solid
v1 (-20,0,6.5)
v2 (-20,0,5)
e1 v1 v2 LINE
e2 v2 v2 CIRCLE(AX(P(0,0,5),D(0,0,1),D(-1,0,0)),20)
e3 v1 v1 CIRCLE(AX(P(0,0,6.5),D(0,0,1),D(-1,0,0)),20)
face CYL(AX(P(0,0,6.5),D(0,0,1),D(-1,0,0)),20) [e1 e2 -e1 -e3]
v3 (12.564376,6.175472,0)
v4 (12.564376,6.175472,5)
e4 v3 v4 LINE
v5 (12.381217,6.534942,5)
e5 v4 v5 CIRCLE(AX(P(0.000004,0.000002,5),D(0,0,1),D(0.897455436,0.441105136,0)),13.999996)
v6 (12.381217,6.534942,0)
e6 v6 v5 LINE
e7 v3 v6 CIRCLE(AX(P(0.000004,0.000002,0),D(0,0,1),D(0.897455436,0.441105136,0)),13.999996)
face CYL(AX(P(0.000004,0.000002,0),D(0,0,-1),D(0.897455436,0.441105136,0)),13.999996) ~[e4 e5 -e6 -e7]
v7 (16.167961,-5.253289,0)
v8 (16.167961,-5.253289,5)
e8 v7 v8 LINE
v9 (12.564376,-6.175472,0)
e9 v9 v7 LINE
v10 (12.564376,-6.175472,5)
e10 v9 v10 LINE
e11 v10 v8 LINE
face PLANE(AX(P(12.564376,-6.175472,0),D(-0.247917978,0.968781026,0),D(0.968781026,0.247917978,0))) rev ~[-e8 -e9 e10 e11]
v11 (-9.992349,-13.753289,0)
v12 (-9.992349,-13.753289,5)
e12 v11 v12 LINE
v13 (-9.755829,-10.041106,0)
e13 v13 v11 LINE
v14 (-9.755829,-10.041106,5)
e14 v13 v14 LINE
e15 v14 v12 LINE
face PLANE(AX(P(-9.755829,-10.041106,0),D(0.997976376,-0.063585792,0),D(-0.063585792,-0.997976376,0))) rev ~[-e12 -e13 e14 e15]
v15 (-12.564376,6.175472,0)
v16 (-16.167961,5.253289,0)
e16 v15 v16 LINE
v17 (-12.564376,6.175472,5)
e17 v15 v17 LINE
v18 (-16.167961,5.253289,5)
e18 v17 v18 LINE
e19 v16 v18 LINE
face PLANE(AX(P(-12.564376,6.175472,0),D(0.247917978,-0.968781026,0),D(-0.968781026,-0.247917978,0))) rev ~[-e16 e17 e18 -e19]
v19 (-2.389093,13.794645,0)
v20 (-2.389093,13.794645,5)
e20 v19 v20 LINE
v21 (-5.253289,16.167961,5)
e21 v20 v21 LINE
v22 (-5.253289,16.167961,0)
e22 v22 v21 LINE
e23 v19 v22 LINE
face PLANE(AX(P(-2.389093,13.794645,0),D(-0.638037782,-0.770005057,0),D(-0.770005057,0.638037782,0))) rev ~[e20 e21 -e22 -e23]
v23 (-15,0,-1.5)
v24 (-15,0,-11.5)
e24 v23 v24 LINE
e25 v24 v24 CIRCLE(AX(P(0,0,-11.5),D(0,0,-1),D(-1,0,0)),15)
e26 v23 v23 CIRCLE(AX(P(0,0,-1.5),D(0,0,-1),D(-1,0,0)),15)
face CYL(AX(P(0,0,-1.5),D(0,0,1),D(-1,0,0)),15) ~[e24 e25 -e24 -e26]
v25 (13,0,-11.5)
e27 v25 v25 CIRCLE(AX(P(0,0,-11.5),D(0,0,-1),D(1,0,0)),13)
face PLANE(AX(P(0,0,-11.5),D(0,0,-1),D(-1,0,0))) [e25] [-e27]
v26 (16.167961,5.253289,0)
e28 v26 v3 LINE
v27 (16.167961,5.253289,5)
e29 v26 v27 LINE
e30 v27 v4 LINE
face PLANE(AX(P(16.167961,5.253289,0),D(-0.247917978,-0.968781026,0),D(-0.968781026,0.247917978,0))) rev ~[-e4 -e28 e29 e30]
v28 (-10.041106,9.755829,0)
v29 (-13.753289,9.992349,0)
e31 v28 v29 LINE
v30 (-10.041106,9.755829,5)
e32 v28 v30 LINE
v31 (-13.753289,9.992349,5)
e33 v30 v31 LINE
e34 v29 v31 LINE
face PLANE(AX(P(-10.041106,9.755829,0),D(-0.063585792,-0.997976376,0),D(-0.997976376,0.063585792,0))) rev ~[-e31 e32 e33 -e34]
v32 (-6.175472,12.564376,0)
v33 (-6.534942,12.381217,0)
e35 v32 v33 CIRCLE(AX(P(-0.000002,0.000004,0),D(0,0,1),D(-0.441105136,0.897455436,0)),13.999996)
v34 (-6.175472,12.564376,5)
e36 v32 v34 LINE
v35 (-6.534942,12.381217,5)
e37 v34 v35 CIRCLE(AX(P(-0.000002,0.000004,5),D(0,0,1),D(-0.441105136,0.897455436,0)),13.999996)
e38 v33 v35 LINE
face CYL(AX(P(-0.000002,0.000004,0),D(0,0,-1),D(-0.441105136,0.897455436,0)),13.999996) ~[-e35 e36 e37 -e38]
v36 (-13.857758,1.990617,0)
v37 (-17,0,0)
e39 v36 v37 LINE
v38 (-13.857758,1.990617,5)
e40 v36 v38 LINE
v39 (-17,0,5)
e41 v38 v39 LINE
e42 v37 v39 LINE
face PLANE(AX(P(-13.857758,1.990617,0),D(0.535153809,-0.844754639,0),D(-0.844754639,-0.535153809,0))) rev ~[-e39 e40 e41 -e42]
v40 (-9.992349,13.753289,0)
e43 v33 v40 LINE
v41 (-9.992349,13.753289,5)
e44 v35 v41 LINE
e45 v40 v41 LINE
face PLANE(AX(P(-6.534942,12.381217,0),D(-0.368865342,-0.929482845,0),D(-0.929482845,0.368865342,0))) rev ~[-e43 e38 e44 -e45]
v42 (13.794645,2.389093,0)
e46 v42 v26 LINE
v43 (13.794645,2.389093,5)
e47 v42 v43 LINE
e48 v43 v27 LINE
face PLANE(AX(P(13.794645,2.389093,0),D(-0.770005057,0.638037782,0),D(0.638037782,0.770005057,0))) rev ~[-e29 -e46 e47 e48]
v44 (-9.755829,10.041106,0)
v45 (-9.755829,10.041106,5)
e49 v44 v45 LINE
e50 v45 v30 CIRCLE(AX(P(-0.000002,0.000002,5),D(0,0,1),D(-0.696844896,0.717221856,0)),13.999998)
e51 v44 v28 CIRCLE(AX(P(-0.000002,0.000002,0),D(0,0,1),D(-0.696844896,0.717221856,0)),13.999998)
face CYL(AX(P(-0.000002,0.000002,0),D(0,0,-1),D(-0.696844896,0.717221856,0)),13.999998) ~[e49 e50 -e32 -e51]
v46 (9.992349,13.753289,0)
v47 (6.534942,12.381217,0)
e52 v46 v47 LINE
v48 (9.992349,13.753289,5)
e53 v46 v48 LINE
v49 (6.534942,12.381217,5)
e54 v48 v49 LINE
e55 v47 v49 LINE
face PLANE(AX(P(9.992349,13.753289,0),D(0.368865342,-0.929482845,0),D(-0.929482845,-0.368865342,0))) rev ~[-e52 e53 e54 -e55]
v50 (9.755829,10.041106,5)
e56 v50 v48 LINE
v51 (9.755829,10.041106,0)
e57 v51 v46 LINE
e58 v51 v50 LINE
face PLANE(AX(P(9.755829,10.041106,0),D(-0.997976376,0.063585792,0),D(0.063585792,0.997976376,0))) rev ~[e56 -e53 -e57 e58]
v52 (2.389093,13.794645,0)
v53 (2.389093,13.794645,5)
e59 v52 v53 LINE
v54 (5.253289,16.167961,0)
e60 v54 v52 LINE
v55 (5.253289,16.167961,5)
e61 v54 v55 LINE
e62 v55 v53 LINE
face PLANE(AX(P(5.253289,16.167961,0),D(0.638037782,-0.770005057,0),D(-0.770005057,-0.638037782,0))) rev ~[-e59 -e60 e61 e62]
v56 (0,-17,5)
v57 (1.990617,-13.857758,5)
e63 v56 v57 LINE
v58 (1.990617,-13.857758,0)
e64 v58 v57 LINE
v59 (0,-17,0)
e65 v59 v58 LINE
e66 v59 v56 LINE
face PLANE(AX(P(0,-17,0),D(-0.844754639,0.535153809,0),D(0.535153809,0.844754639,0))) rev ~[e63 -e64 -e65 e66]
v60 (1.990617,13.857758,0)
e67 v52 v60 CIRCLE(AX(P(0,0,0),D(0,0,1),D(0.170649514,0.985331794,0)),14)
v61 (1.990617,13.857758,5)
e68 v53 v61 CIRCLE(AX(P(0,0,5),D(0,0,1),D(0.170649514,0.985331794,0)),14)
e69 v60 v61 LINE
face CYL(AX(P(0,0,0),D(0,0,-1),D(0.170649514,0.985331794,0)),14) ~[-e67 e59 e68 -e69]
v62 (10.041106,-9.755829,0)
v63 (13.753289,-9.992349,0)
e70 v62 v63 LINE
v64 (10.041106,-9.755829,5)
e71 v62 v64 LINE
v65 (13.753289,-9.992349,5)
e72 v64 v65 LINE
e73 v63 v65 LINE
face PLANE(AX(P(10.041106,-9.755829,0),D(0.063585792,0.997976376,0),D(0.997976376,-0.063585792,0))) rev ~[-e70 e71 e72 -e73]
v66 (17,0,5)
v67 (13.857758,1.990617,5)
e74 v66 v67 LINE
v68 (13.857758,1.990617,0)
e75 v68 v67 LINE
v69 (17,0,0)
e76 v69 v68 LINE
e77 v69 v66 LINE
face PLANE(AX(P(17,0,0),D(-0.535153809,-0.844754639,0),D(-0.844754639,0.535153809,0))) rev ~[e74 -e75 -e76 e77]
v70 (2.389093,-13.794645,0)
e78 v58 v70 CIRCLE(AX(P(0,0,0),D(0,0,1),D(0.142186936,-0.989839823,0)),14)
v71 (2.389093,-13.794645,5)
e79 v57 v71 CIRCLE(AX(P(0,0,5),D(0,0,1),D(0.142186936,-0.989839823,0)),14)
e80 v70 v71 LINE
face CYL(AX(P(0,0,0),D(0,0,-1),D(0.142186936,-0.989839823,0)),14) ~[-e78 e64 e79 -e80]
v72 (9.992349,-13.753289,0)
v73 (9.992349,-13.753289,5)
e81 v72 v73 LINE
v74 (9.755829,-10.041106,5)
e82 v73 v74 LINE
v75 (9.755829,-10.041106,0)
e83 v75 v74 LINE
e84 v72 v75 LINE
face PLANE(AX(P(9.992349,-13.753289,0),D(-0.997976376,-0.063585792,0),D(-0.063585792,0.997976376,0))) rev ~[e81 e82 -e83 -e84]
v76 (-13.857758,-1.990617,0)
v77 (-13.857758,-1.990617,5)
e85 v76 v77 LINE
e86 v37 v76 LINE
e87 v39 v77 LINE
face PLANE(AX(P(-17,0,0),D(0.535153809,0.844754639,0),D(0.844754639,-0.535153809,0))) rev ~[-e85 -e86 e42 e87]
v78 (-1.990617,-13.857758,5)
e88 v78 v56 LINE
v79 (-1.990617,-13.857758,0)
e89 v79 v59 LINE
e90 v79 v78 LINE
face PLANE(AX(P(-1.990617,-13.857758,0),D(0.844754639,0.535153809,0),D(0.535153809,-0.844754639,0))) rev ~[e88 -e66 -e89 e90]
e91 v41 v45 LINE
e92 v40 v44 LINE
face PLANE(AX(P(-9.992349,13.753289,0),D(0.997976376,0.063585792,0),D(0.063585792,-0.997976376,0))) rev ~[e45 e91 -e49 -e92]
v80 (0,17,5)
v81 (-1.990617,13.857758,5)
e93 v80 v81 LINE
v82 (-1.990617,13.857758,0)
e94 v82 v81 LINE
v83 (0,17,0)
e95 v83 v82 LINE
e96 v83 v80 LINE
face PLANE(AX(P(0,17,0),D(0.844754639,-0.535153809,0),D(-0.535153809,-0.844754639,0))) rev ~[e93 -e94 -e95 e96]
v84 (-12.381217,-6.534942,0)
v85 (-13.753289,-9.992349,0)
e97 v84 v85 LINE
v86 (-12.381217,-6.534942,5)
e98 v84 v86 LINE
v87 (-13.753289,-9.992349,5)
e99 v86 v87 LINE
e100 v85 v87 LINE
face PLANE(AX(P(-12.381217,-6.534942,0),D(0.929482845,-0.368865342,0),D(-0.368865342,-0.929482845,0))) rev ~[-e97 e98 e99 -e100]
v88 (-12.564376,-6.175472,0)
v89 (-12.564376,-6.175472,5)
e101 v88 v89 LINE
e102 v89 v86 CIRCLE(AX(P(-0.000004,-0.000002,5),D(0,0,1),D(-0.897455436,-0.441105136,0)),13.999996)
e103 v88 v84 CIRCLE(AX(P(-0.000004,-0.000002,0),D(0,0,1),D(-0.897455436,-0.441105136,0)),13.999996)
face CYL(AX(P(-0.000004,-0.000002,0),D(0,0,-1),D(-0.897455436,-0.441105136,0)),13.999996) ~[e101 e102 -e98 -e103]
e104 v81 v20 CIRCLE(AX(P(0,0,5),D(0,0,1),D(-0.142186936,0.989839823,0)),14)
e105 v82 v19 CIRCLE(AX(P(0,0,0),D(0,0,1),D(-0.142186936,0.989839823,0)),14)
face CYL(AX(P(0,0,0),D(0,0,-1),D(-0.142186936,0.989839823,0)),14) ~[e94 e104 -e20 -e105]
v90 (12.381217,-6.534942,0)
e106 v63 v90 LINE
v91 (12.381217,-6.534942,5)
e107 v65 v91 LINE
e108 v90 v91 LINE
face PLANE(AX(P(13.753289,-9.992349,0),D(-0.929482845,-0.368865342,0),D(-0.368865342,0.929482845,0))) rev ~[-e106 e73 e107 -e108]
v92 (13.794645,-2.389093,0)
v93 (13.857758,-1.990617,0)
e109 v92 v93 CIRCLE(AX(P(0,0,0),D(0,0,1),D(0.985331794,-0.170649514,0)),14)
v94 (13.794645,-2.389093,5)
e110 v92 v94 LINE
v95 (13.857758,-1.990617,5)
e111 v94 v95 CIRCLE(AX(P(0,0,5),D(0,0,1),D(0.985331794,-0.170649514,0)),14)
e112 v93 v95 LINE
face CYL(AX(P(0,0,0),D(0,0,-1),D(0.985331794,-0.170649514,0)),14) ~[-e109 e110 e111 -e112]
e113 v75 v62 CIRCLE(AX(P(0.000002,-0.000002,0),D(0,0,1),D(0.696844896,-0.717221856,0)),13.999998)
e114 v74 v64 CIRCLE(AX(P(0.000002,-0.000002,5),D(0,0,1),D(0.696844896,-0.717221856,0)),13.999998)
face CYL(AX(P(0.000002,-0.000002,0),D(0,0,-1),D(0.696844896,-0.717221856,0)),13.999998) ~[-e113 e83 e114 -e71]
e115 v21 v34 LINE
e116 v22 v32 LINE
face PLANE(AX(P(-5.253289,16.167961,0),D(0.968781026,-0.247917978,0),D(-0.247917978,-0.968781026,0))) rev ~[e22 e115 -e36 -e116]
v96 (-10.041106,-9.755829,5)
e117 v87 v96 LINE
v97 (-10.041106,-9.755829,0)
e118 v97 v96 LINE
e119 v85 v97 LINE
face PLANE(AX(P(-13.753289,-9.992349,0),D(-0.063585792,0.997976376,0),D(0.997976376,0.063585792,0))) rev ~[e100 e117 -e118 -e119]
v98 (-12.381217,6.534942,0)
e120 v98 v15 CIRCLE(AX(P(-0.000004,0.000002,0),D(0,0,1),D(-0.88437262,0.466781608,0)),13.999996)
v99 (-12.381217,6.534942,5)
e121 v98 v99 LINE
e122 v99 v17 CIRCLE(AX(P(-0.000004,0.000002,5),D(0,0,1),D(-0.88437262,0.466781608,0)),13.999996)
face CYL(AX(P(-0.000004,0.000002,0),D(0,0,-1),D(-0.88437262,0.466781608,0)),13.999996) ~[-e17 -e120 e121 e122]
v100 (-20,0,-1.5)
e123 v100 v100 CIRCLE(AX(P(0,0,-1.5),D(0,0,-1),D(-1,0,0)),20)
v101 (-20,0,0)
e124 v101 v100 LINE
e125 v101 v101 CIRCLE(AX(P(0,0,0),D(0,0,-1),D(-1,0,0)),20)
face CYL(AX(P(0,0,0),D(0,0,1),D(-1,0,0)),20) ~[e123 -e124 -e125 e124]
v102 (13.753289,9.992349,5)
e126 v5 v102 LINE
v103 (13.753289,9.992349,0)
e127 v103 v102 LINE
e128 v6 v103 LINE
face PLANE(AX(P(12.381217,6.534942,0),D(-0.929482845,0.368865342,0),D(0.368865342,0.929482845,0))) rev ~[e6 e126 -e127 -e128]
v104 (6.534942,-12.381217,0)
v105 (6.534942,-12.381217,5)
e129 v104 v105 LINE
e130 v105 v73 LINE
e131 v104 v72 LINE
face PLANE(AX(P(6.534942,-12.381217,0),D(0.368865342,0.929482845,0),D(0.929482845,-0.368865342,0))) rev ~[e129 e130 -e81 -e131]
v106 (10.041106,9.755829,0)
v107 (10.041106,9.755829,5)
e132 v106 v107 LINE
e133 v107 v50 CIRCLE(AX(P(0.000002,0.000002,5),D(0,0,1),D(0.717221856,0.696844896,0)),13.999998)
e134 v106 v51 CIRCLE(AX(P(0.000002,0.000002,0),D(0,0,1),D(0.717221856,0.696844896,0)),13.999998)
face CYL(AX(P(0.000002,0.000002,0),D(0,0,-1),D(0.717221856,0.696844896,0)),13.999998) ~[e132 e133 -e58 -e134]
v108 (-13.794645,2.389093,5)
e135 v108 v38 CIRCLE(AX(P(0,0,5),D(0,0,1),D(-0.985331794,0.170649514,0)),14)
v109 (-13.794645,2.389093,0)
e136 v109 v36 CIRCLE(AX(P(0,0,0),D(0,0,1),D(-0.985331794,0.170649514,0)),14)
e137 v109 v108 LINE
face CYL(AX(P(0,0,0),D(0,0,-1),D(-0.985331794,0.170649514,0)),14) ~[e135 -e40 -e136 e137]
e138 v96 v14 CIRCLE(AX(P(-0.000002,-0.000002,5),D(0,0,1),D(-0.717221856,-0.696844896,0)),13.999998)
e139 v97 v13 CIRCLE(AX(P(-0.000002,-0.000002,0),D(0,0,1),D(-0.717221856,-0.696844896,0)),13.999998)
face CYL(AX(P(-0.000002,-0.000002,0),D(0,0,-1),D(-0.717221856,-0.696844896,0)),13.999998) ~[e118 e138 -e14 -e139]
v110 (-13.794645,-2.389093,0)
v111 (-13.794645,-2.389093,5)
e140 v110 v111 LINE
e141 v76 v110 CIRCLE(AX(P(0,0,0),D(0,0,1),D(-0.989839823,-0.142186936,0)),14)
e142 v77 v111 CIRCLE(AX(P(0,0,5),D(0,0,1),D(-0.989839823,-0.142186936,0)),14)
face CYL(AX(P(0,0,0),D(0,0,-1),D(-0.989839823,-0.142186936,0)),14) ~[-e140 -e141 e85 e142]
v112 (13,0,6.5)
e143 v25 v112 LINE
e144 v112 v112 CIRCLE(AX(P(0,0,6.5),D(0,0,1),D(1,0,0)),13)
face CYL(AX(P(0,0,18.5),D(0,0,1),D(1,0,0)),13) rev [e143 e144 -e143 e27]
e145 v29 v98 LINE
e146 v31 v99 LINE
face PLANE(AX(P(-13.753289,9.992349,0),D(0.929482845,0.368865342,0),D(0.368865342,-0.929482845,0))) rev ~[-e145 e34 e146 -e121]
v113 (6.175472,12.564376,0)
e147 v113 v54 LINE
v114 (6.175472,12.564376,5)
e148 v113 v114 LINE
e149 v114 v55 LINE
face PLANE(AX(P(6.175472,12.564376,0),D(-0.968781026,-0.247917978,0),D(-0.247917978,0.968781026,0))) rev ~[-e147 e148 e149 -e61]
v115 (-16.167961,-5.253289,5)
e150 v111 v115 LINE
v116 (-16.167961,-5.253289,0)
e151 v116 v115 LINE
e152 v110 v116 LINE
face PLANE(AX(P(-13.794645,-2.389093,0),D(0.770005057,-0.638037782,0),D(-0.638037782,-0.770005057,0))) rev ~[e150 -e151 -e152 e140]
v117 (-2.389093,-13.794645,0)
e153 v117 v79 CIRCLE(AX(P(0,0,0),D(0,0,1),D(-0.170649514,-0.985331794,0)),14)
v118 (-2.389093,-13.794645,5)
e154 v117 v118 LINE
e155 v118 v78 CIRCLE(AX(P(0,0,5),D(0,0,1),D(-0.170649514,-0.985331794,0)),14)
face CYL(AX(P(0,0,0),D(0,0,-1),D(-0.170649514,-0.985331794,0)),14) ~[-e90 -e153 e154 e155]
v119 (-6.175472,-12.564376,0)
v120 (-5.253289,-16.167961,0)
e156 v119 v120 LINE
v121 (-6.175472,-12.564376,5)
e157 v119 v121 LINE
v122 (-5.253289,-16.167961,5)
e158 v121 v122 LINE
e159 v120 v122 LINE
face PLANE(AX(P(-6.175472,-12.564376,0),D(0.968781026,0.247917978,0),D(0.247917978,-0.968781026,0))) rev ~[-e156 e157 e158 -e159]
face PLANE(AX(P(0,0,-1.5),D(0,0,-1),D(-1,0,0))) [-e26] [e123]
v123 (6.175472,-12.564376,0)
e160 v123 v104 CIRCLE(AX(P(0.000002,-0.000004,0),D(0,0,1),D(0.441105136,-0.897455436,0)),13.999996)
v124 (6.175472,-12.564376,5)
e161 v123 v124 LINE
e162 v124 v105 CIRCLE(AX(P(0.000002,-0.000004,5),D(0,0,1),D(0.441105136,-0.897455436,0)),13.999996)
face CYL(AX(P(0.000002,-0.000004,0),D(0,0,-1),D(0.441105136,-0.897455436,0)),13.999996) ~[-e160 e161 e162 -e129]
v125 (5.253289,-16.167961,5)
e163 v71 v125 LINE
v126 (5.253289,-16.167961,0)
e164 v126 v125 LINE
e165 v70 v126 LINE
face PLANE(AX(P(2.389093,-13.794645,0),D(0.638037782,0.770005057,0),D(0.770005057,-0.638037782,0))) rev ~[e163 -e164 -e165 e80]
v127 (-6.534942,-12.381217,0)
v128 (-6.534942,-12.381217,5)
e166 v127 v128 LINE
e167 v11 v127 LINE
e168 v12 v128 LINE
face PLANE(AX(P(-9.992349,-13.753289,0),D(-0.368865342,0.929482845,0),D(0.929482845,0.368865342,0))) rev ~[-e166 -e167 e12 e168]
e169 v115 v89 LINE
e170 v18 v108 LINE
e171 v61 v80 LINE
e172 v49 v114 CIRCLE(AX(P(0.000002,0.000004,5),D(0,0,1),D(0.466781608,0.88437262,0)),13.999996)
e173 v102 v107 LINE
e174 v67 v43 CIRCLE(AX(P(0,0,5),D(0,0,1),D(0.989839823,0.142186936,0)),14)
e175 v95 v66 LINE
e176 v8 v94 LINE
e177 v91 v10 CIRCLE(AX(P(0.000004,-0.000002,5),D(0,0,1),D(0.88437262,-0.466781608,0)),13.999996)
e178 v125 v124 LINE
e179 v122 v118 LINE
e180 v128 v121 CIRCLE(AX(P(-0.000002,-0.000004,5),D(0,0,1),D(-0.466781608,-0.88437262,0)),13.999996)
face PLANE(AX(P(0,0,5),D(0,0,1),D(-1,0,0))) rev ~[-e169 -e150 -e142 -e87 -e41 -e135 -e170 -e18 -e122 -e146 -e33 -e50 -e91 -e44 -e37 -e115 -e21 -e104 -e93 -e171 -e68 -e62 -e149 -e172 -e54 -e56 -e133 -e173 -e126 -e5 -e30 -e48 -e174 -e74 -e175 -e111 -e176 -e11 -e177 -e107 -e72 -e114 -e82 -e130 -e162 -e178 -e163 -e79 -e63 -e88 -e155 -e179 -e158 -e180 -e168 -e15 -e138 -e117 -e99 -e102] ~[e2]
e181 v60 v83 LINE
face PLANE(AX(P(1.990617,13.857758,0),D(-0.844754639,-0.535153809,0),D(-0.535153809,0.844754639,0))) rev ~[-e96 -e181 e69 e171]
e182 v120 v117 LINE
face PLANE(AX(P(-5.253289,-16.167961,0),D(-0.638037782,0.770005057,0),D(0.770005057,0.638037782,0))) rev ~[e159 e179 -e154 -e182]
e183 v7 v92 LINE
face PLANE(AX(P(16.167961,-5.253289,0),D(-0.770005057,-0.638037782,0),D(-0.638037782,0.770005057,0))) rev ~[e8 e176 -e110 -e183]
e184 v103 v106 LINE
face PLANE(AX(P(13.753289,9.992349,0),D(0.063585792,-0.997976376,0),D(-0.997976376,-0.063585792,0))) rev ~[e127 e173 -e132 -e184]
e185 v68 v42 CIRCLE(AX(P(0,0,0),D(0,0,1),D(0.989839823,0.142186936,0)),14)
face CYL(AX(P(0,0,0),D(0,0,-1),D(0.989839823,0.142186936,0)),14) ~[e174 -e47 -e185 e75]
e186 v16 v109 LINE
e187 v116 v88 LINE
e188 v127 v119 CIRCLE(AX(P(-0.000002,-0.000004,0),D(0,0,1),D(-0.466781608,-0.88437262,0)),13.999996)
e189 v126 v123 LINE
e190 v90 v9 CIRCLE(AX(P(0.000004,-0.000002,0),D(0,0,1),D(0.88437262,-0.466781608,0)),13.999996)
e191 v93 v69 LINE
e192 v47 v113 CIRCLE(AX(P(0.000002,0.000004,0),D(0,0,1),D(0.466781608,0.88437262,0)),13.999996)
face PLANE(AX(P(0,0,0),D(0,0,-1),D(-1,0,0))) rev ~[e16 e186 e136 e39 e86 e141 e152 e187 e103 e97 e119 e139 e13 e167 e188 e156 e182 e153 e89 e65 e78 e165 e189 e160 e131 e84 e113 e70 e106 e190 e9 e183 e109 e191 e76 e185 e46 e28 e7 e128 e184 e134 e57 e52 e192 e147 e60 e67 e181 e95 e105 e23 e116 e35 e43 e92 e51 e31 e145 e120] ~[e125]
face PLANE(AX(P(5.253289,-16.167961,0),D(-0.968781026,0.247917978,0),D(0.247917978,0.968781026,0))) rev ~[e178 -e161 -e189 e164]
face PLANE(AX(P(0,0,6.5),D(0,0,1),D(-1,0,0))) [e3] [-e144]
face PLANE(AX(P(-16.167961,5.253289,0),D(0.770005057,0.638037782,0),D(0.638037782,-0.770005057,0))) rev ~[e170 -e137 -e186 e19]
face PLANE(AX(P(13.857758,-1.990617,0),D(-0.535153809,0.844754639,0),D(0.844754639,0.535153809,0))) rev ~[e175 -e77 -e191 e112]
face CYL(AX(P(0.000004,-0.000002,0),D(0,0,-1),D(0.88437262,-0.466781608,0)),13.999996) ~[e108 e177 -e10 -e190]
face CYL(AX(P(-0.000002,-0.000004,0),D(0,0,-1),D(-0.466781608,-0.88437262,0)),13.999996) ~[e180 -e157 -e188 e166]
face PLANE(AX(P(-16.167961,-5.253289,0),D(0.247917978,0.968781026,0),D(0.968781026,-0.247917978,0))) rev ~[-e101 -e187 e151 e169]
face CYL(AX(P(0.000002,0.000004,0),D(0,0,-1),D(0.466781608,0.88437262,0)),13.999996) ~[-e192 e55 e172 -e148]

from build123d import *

# Parameters (mm, degrees)
BOSS_EXTRUDE1_DEPTH = 5
SKETCH2_R           = 20
BOSS_EXTRUDE2_DEPTH = 1.5
BOSS_EXTRUDE3_START = 1.5
SKETCH3_R           = 20
BOSS_EXTRUDE3_DEPTH = 1.5
SKETCH4_R           = 13
CUT_EXTRUDE1_DEPTH  = 11.5
SKETCH5_R           = 15
BOSS_EXTRUDE4_DEPTH = 10
CUT_EXTRUDE2_START  = -30
SKETCH6_R           = 13
CUT_EXTRUDE2_DEPTH  = 30


with BuildPart() as part:
    # Sketch1 → Boss-Extrude1 (new body)
    with BuildSketch(Plane.XY):
        with BuildLine():
            Line((0, 17), (-1.990617103, 13.857757522))
            ThreePointArc((-1.990617103, 13.857757522), (-2.190082511, 13.827636768), (-2.389093211, 13.794645107))
            Line((-2.389093211, 13.794645107), (-5.253288904, 16.167960777))
            Line((-5.253288904, 16.167960777), (-6.175471945, 12.564376079))
            ThreePointArc((-6.175471945, 12.564376079), (-6.355866996, 12.474091339), (-6.534942436, 12.381216715))
            Line((-6.534942436, 12.381216715), (-9.992349289, 13.753288904))
            Line((-9.992349289, 13.753288904), (-9.755828567, 10.041105964))
            ThreePointArc((-9.755828567, 10.041105964), (-9.899494937, 9.899494937), (-10.041105964, 9.755828567))
            Line((-10.041105964, 9.755828567), (-13.753288904, 9.992349289))
            Line((-13.753288904, 9.992349289), (-12.381216715, 6.534942436))
            ThreePointArc((-12.381216715, 6.534942436), (-12.474091339, 6.355866996), (-12.564376079, 6.175471945))
            Line((-12.564376079, 6.175471945), (-16.167960777, 5.253288904))
            Line((-16.167960777, 5.253288904), (-13.794645107, 2.389093211))
            ThreePointArc((-13.794645107, 2.389093211), (-13.827636768, 2.190082511), (-13.857757522, 1.990617103))
            Line((-13.857757522, 1.990617103), (-17, 0))
            Line((-17, 0), (-13.857757522, -1.990617103))
            ThreePointArc((-13.857757522, -1.990617103), (-13.827636768, -2.190082511), (-13.794645107, -2.389093211))
            Line((-13.794645107, -2.389093211), (-16.167960777, -5.253288904))
            Line((-16.167960777, -5.253288904), (-12.564376079, -6.175471945))
            ThreePointArc((-12.564376079, -6.175471945), (-12.474091339, -6.355866996), (-12.381216715, -6.534942436))
            Line((-12.381216715, -6.534942436), (-13.753288904, -9.992349289))
            Line((-13.753288904, -9.992349289), (-10.041105964, -9.755828567))
            ThreePointArc((-10.041105964, -9.755828567), (-9.899494937, -9.899494937), (-9.755828567, -10.041105964))
            Line((-9.755828567, -10.041105964), (-9.992349289, -13.753288904))
            Line((-9.992349289, -13.753288904), (-6.534942436, -12.381216715))
            ThreePointArc((-6.534942436, -12.381216715), (-6.355866996, -12.474091339), (-6.175471945, -12.564376079))
            Line((-6.175471945, -12.564376079), (-5.253288904, -16.167960777))
            Line((-5.253288904, -16.167960777), (-2.389093211, -13.794645107))
            ThreePointArc((-2.389093211, -13.794645107), (-2.190082511, -13.827636768), (-1.990617103, -13.857757522))
            Line((-1.990617103, -13.857757522), (0, -17))
            Line((0, -17), (1.990617103, -13.857757522))
            ThreePointArc((1.990617103, -13.857757522), (2.190082511, -13.827636768), (2.389093211, -13.794645107))
            Line((2.389093211, -13.794645107), (5.253288904, -16.167960777))
            Line((5.253288904, -16.167960777), (6.175471945, -12.564376079))
            ThreePointArc((6.175471945, -12.564376079), (6.355866996, -12.474091339), (6.534942436, -12.381216715))
            Line((6.534942436, -12.381216715), (9.992349289, -13.753288904))
            Line((9.992349289, -13.753288904), (9.755828567, -10.041105964))
            ThreePointArc((9.755828567, -10.041105964), (9.899494937, -9.899494937), (10.041105964, -9.755828567))
            Line((10.041105964, -9.755828567), (13.753288904, -9.992349289))
            Line((13.753288904, -9.992349289), (12.381216715, -6.534942436))
            ThreePointArc((12.381216715, -6.534942436), (12.474091339, -6.355866996), (12.564376079, -6.175471945))
            Line((12.564376079, -6.175471945), (16.167960777, -5.253288904))
            Line((16.167960777, -5.253288904), (13.794645107, -2.389093211))
            ThreePointArc((13.794645107, -2.389093211), (13.827636768, -2.190082511), (13.857757522, -1.990617103))
            Line((13.857757522, -1.990617103), (17, 0))
            Line((17, 0), (13.857757522, 1.990617103))
            ThreePointArc((13.857757522, 1.990617103), (13.827636768, 2.190082511), (13.794645107, 2.389093211))
            Line((13.794645107, 2.389093211), (16.167960777, 5.253288904))
            Line((16.167960777, 5.253288904), (12.564376079, 6.175471945))
            ThreePointArc((12.564376079, 6.175471945), (12.474091339, 6.355866996), (12.381216715, 6.534942436))
            Line((12.381216715, 6.534942436), (13.753288904, 9.992349289))
            Line((13.753288904, 9.992349289), (10.041105964, 9.755828567))
            ThreePointArc((10.041105964, 9.755828567), (9.899494937, 9.899494937), (9.755828567, 10.041105964))
            Line((9.755828567, 10.041105964), (9.992349289, 13.753288904))
            Line((9.992349289, 13.753288904), (6.534942436, 12.381216715))
            ThreePointArc((6.534942436, 12.381216715), (6.355866996, 12.474091339), (6.175471945, 12.564376079))
            Line((6.175471945, 12.564376079), (5.253288904, 16.167960777))
            Line((5.253288904, 16.167960777), (2.389093211, 13.794645107))
            ThreePointArc((2.389093211, 13.794645107), (2.190082511, 13.827636768), (1.990617103, 13.857757522))
            Line((1.990617103, 13.857757522), (0, 17))
        make_face()
    extrude(amount=BOSS_EXTRUDE1_DEPTH)

    # Sketch2 → Boss-Extrude2 (add)
    with BuildSketch(Plane(origin=(0, 0, 0), x_dir=(-1, 0, 0), z_dir=(0, 0, -1))):
        Circle(SKETCH2_R)
    extrude(amount=BOSS_EXTRUDE2_DEPTH)

    # Sketch3 → Boss-Extrude3 (add)
    with BuildSketch(Plane.XY.offset(5).offset(BOSS_EXTRUDE3_START)):
        with Locations(Location((0, 0, 0), (0, 0, 180))):
            Circle(SKETCH3_R)
    extrude(amount=-BOSS_EXTRUDE3_DEPTH)

    # Sketch4 → Cut-Extrude1 (cut)
    with BuildSketch(Plane.XY.offset(6.5)):
        Circle(SKETCH4_R)
    extrude(amount=-CUT_EXTRUDE1_DEPTH, mode=Mode.SUBTRACT)

    # Sketch5 → Boss-Extrude4 (add)
    with BuildSketch(Plane(origin=(0, 0, -1.5), x_dir=(-1, 0, 0), z_dir=(0, 0, -1))):
        Circle(SKETCH5_R)
    extrude(amount=BOSS_EXTRUDE4_DEPTH)

    # Sketch6 → Cut-Extrude2 (cut)
    with BuildSketch(Plane(origin=(0, 0, -11.5), x_dir=(-1, 0, 0), z_dir=(0, 0, -1)).offset(CUT_EXTRUDE2_START)):
        with Locations(Location((0, 0, 0), (0, 0, 180))):
            Circle(SKETCH6_R)
    extrude(amount=CUT_EXTRUDE2_DEPTH, mode=Mode.SUBTRACT)


solid = part.part
